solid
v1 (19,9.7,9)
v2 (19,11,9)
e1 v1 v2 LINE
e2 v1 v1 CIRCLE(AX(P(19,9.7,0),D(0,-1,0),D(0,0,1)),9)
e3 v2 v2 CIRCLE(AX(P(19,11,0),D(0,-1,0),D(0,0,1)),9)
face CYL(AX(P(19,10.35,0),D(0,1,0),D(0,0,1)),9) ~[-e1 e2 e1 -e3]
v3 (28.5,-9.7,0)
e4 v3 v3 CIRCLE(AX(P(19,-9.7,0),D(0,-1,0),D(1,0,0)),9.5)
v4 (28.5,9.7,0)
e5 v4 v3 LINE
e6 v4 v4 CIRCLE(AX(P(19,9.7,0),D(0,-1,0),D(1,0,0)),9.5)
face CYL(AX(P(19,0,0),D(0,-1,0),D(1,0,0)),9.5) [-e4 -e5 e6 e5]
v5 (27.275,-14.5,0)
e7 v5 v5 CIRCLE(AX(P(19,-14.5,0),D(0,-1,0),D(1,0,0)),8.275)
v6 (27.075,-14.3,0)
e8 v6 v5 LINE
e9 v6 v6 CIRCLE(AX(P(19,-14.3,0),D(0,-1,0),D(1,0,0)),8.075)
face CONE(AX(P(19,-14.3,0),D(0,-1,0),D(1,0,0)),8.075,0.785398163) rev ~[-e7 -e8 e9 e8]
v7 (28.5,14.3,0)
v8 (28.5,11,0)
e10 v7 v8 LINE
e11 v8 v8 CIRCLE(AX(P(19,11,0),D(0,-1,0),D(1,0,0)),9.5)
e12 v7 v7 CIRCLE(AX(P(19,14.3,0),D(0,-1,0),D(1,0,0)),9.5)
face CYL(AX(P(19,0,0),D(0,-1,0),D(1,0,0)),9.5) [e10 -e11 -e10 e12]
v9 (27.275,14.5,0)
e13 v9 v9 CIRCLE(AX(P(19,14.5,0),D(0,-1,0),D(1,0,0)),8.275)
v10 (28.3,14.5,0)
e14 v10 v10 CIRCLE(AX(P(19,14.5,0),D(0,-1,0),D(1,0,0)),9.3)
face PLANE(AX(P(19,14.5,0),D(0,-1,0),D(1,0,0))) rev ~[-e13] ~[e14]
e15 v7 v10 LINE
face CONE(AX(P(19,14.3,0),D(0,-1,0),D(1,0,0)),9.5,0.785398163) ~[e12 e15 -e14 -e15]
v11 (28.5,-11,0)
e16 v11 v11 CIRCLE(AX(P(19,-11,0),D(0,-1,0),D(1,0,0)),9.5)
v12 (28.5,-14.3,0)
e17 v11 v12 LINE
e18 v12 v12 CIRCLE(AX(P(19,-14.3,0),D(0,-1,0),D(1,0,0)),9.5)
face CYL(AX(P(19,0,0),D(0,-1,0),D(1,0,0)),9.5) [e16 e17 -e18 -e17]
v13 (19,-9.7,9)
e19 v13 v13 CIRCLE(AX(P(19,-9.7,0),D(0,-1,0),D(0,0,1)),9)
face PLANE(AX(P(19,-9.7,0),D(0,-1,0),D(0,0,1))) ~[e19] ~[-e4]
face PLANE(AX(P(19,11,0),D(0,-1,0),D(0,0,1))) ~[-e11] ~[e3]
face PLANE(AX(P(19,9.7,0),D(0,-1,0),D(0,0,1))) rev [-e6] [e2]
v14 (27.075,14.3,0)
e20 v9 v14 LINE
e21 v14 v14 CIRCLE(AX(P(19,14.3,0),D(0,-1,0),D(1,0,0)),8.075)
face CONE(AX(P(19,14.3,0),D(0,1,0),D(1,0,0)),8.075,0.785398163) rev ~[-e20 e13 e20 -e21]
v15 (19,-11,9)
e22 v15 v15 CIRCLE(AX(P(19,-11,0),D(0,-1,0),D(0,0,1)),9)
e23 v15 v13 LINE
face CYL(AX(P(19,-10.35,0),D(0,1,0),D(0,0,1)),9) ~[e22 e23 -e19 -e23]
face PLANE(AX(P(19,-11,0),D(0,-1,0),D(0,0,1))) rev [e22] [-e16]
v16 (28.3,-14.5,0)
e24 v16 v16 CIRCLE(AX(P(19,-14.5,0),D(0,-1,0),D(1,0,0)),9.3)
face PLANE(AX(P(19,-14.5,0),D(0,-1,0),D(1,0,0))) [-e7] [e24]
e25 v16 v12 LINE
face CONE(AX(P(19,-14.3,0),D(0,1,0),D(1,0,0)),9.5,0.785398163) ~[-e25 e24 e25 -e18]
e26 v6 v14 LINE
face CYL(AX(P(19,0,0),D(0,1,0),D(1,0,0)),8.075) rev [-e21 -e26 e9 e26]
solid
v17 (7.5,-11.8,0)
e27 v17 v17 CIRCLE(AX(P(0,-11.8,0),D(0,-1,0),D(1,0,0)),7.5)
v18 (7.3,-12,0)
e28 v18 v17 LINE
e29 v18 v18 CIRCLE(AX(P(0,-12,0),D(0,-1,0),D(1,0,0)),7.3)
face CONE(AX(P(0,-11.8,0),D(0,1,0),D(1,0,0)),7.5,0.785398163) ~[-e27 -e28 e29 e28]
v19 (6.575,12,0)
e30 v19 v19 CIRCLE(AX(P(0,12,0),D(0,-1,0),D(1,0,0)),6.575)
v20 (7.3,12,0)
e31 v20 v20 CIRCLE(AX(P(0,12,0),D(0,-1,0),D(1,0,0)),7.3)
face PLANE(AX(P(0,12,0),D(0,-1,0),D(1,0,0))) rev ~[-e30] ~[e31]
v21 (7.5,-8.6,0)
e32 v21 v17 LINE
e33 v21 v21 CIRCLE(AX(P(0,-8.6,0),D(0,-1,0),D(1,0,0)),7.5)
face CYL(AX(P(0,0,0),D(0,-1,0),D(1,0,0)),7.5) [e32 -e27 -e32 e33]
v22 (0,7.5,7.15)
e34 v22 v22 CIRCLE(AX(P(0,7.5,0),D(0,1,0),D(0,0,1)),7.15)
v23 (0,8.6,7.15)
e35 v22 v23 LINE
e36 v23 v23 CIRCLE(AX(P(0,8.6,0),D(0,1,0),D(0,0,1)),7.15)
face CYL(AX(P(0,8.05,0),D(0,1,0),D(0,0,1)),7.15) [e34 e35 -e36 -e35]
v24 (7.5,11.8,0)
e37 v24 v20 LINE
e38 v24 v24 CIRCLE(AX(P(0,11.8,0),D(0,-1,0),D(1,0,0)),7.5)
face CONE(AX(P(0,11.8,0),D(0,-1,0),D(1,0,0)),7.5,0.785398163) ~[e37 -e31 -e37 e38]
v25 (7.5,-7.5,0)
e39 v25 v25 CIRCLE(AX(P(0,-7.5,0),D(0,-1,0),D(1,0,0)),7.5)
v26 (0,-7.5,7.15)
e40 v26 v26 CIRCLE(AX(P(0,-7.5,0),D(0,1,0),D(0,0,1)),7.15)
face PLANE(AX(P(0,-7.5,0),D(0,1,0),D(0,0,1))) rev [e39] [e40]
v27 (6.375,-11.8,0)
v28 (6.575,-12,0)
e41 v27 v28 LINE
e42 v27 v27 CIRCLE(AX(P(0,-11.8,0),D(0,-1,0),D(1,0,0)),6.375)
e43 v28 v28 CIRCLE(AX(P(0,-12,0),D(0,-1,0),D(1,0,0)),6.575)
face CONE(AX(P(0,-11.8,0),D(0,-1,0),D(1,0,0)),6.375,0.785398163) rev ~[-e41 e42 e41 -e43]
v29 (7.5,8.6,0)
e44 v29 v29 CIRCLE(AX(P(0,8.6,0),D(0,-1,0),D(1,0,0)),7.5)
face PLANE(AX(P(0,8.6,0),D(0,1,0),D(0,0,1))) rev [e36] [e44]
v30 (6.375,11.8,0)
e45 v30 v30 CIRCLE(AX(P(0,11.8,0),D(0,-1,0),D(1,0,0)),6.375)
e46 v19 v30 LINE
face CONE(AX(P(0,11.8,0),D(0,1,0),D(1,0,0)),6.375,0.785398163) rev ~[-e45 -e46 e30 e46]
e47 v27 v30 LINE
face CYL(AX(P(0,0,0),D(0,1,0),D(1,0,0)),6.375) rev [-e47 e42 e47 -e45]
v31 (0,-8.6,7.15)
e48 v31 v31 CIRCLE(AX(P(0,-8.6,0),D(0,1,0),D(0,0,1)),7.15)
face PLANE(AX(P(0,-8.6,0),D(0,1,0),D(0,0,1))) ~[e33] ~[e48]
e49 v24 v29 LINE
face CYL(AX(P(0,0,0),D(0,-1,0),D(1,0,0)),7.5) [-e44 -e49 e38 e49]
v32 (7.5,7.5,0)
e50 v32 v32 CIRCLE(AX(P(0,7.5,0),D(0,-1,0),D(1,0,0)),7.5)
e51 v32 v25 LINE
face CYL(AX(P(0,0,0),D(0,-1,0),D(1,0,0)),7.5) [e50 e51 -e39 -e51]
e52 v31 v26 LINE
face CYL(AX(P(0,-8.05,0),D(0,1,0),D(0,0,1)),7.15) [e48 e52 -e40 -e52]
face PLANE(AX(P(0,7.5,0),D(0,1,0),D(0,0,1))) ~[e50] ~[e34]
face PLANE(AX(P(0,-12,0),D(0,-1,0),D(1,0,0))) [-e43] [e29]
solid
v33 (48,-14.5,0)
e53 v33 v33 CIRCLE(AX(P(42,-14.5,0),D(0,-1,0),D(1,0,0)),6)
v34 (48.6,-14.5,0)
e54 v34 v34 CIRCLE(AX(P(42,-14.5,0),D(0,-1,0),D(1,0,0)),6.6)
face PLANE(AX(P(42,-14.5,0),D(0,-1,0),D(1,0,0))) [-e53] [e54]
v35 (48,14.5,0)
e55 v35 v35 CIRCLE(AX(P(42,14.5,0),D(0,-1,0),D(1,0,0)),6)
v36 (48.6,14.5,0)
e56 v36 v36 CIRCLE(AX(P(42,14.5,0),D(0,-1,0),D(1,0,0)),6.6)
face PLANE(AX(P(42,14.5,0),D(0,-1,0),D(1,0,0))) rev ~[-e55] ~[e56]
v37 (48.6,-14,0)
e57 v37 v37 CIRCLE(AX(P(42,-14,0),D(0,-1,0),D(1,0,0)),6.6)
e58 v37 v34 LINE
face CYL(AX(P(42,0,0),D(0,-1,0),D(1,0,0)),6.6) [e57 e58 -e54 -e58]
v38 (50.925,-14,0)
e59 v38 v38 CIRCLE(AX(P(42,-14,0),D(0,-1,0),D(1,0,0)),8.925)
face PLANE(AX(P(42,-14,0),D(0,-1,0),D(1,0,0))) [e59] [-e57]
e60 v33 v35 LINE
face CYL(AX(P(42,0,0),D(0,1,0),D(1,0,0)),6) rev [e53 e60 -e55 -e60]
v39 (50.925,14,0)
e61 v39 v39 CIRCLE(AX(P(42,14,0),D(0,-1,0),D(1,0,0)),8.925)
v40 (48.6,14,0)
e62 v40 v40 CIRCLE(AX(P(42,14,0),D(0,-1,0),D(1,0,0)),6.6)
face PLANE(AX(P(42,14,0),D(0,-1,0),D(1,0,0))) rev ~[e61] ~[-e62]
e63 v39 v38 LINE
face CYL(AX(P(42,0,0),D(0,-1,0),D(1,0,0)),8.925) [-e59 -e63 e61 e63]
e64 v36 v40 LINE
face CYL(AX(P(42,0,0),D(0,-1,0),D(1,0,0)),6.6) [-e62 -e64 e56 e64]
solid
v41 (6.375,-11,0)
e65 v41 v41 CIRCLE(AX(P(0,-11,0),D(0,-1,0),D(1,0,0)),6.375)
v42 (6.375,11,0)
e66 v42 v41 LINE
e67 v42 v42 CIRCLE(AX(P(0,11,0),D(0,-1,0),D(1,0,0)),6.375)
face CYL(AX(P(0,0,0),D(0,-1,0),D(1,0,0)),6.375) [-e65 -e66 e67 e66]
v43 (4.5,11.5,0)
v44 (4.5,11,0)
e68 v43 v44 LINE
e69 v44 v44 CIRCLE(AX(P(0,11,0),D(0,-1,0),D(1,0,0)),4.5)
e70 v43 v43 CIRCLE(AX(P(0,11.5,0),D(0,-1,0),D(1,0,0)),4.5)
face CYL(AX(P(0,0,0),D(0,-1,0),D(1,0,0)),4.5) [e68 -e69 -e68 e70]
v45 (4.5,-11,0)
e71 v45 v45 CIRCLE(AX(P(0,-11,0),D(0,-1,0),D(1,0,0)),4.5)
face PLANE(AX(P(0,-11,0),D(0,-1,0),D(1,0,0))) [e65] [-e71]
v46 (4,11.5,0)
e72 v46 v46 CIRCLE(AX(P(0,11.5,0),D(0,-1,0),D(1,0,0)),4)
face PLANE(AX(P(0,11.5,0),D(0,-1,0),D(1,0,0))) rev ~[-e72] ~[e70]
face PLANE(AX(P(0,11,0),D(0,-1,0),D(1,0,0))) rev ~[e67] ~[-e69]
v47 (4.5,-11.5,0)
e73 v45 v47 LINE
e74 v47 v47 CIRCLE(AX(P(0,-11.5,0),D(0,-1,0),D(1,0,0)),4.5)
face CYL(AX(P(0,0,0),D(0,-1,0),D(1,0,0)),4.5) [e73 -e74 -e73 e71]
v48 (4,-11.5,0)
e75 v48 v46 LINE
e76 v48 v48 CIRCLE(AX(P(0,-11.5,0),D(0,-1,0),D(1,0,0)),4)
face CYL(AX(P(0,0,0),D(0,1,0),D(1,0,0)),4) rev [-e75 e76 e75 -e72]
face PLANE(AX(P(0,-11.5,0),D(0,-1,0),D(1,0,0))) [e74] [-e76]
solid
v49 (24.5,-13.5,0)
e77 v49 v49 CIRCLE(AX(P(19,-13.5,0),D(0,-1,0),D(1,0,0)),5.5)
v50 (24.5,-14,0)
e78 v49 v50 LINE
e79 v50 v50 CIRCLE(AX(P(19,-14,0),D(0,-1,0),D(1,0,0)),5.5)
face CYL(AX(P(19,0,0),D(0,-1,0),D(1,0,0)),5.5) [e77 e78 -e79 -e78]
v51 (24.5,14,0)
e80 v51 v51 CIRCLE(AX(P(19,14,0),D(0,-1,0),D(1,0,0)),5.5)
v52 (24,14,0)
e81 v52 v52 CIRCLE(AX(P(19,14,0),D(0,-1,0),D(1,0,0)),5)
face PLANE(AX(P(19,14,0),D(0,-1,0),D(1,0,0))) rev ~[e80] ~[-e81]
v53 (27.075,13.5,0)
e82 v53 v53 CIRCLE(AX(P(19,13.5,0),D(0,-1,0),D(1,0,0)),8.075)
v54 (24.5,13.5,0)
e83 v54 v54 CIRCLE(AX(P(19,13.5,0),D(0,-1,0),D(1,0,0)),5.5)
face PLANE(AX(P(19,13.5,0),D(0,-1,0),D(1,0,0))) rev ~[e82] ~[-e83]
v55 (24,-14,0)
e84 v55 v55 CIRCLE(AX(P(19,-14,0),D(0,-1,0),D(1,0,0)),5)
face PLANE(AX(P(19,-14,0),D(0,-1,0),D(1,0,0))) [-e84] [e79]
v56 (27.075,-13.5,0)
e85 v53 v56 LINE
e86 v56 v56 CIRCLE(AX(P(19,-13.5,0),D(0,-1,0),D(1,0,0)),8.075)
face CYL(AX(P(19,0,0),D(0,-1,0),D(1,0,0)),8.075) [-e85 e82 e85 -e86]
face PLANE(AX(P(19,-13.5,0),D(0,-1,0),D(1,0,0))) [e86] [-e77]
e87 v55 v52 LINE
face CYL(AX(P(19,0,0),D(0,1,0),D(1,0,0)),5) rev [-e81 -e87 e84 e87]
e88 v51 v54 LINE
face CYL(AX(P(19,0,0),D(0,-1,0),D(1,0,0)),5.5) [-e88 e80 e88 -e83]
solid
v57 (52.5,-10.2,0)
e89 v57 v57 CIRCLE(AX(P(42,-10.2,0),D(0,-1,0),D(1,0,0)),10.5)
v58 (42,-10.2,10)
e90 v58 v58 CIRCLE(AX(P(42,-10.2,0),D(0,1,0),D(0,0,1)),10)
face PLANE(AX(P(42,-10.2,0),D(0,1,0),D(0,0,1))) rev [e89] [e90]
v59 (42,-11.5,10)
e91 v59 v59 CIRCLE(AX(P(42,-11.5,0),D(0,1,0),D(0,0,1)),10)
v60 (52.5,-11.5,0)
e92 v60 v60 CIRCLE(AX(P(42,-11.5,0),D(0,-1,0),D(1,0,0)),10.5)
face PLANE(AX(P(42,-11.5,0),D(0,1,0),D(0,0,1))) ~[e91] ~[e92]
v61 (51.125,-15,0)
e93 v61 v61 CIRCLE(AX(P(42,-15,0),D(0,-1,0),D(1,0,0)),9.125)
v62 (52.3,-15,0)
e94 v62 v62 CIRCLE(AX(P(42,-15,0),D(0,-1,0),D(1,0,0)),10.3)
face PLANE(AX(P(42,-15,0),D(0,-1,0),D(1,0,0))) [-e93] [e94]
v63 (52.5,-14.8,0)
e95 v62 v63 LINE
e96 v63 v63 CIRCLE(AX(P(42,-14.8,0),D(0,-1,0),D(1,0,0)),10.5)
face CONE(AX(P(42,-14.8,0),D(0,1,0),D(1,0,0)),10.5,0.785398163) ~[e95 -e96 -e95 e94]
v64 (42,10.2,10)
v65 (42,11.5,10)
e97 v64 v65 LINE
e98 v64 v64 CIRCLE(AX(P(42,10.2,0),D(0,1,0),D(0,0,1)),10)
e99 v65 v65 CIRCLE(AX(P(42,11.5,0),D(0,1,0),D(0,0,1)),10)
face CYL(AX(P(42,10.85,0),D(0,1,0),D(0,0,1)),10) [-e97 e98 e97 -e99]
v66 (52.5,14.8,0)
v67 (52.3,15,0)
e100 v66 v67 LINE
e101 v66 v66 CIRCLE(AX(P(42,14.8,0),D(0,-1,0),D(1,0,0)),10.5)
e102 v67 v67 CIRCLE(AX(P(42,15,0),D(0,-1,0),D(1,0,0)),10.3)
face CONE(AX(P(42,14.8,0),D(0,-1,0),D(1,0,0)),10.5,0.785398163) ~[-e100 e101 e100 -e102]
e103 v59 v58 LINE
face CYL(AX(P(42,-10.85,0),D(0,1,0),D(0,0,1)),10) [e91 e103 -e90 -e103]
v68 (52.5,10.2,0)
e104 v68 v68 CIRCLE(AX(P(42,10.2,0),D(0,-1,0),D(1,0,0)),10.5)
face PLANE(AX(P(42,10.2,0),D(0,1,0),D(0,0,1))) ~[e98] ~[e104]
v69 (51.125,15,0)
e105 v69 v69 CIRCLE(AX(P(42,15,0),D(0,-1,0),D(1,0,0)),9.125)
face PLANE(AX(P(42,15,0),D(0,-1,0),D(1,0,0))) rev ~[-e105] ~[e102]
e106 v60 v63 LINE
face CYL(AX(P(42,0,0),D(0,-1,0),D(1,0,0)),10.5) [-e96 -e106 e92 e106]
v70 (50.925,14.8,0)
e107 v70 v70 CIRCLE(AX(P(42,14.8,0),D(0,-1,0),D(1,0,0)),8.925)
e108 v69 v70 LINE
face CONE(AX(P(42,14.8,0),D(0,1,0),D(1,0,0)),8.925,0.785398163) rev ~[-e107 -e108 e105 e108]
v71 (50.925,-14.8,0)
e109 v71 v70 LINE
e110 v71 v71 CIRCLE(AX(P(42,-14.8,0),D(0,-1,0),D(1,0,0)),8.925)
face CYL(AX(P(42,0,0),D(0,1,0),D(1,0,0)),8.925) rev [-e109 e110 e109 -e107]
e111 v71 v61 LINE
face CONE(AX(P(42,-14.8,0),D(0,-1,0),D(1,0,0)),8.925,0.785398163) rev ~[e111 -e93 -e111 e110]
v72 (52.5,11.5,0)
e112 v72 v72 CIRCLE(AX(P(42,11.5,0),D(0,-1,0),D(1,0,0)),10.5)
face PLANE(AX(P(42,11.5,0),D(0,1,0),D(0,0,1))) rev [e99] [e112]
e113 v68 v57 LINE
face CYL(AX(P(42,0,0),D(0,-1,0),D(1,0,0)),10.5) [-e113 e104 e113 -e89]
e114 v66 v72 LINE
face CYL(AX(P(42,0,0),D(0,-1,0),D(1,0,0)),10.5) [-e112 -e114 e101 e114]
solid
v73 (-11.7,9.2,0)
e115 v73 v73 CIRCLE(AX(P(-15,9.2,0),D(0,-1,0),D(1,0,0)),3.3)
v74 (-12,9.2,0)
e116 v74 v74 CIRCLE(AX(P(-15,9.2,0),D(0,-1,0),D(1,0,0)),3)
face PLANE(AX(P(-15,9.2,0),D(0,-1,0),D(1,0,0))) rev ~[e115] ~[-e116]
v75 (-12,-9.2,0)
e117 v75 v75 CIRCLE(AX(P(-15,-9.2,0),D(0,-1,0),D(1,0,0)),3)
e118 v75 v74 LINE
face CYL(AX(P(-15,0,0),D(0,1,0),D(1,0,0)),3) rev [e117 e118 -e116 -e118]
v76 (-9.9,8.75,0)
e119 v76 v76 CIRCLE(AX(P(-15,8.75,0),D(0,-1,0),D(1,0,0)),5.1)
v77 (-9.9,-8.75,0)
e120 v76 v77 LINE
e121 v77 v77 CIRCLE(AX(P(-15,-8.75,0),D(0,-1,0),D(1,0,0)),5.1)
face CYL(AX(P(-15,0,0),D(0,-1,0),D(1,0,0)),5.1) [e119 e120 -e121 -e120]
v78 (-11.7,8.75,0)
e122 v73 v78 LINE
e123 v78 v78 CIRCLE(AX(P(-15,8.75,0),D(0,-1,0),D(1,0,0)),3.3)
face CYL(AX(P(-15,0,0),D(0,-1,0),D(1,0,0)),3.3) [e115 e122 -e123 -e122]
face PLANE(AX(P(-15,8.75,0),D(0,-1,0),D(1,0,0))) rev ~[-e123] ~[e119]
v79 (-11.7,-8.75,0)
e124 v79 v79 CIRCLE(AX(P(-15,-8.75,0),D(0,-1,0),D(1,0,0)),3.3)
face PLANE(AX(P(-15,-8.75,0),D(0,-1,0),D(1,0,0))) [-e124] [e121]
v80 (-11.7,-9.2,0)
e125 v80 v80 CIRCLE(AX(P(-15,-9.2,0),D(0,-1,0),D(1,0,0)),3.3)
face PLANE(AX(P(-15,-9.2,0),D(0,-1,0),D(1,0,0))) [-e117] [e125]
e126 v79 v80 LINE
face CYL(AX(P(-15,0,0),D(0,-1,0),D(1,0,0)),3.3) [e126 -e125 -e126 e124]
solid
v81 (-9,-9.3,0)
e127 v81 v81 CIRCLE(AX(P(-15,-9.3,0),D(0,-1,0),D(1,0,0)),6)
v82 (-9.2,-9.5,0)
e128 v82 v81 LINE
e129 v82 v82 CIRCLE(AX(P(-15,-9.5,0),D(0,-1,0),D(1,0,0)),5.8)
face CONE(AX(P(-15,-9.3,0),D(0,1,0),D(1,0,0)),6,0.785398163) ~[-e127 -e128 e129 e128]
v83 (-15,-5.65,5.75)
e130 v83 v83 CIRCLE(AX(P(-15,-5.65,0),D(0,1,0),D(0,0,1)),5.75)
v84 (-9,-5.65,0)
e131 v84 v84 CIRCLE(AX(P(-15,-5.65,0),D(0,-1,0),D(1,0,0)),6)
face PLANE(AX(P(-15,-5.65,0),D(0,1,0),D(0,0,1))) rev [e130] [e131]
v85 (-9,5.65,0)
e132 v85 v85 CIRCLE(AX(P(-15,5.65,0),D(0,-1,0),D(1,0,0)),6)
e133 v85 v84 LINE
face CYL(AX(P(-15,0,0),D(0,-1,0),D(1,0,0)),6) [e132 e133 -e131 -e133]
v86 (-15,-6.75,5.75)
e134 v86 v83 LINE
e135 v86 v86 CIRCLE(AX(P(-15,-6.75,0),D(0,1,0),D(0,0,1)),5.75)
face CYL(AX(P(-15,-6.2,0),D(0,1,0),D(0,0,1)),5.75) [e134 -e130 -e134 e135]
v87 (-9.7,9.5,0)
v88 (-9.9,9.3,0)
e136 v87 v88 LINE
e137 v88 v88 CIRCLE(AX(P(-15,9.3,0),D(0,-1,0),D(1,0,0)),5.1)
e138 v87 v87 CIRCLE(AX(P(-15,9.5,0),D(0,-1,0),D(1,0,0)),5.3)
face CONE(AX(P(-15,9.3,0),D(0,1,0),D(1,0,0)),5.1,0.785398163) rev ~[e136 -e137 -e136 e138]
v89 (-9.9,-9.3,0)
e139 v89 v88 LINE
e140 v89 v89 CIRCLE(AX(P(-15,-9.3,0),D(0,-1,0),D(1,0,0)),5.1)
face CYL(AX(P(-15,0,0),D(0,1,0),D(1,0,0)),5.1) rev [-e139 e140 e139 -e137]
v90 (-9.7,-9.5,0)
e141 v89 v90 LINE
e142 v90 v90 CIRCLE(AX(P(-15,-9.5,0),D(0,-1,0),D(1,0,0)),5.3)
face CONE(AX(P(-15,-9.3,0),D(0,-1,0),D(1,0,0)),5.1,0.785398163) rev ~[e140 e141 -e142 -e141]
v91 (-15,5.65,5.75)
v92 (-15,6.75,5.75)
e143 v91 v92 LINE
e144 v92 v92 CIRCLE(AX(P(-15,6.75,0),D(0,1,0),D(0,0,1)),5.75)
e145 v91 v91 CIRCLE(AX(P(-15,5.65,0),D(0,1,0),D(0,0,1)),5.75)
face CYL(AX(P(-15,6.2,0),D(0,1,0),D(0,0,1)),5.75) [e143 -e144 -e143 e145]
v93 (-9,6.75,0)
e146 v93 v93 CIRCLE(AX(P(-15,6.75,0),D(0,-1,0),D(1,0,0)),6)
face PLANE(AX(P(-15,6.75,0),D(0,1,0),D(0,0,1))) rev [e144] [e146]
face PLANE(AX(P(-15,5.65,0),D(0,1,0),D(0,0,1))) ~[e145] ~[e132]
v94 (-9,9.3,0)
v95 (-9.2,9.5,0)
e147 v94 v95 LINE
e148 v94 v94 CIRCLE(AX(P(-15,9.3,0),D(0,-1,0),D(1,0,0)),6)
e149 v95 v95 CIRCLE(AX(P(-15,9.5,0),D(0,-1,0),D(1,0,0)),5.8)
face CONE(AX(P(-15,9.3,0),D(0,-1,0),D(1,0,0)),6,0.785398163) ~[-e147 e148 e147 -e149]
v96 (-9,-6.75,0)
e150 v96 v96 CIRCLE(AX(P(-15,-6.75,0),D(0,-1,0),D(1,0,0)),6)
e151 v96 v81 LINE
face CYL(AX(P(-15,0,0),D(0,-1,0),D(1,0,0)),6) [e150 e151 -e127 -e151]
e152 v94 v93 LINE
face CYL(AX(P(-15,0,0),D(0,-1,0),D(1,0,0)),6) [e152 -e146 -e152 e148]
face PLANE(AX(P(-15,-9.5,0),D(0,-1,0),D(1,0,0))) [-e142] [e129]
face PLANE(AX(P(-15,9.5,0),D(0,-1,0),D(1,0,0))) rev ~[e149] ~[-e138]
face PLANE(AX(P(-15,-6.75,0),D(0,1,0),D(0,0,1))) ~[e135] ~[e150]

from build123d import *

# Parameters (mm, degrees)
F0_R      = 6
F0_R_2    = 5.1
F1_DEPTH  = 9.5
F0_R_3    = 3.3
F2_DEPTH  = 8.75
F0_R_4    = 3
F3_DEPTH  = 9.2
F5_W      = 1.1
F5_H      = 1
F7_SIZE   = 0.2
F0_R_5    = 7.5
F0_R_6    = 6.375
F8_DEPTH  = 12
F0_R_7    = 4.5
F9_DEPTH  = 11
F0_R_8    = 4
F10_DEPTH = 11.5
F11_W     = 1.1
F11_H     = 0.85
F13_SIZE  = 0.2
F0_R_9    = 9.5
F0_R_10   = 8.075
F14_DEPTH = 14.5
F0_R_11   = 5.5
F15_DEPTH = 13.5
F0_R_12   = 5
F16_DEPTH = 14
F18_W     = 1.3
F18_H     = 1
F20_SIZE  = 0.2
F0_R_13   = 10.5
F0_R_14   = 8.925
F21_DEPTH = 15
F0_R_15   = 6.6
F22_DEPTH = 14
F23_DEPTH = 14.5
F25_W     = 1.3
F25_H     = 1
F27_SIZE  = 0.2


with BuildPart() as f1:
    # F0 (on Front) → F1 (new body, symmetric)
    with BuildSketch(Plane.XZ):
        with Locations((-15, 0)):
            Circle(F0_R)
        with Locations((-15, 0)):
            Circle(F0_R_2, mode=Mode.SUBTRACT)
    extrude(amount=F1_DEPTH, both=True)

    # F5 (on plane+point) → F6 (revolve, cut)
    with BuildSketch(Plane.YZ.offset(-15)):
        with Locations((6.2, 6.25)):
            Rectangle(F5_W, F5_H)
        with Locations((-6.2, 6.25)):
            Rectangle(F5_W, F5_H)
    revolve(axis=Axis((-15, 0, 0), (0, 1, 0)), mode=Mode.SUBTRACT)

    # F7
    f7_edges = [f1.edges().sort_by_distance(p)[0] for p in [
        (-21, -9.5, 0),
        (-20.1, -9.5, 0),
        (-21, 9.5, 0),
        (-20.1, 9.5, 0),
    ]]
    chamfer(f7_edges, length=F7_SIZE)


with BuildPart() as f2:
    # F0 (on Front) → F2 (new body, symmetric)
    with BuildSketch(Plane.XZ):
        with Locations((-15, 0)):
            Circle(F0_R_2)
        with Locations((-15, 0)):
            Circle(F0_R_3, mode=Mode.SUBTRACT)
    extrude(amount=F2_DEPTH, both=True)

    # F0 (on Front) → F3 (join, symmetric)
    with BuildSketch(Plane.XZ):
        with Locations((-15, 0)):
            Circle(F0_R_3)
        with Locations((-15, 0)):
            Circle(F0_R_4, mode=Mode.SUBTRACT)
    extrude(amount=F3_DEPTH, both=True)


with BuildPart() as f8:
    # F0 (on Front) → F8 (new body, symmetric)
    with BuildSketch(Plane.XZ):
        Circle(F0_R_5)
        Circle(F0_R_6, mode=Mode.SUBTRACT)
    extrude(amount=F8_DEPTH, both=True)

    # F11 (on Right) → F12 (revolve, cut)
    with BuildSketch(Plane.YZ):
        with Locations((-8.05, 7.575)):
            Rectangle(F11_W, F11_H)
        with Locations((8.05, 7.575)):
            Rectangle(F11_W, F11_H)
    revolve(axis=Axis((0, 0, 0), (0, 1, 0)), mode=Mode.SUBTRACT)

    # F13
    f13_edges = [f8.edges().sort_by_distance(p)[0] for p in [
        (-7.5, -12, 0),
        (-6.375, -12, 0),
        (-7.5, 12, 0),
        (-6.375, 12, 0),
    ]]
    chamfer(f13_edges, length=F13_SIZE)


with BuildPart() as f9:
    # F0 (on Front) → F9 (new body, symmetric)
    with BuildSketch(Plane.XZ):
        Circle(F0_R_6)
        Circle(F0_R_7, mode=Mode.SUBTRACT)
    extrude(amount=F9_DEPTH, both=True)

    # F0 (on Front) → F10 (join, symmetric)
    with BuildSketch(Plane.XZ):
        Circle(F0_R_7)
        Circle(F0_R_8, mode=Mode.SUBTRACT)
    extrude(amount=F10_DEPTH, both=True)


with BuildPart() as f14:
    # F0 (on Front) → F14 (new body, symmetric)
    with BuildSketch(Plane.XZ):
        with Locations((19, 0)):
            Circle(F0_R_9)
        with Locations((19, 0)):
            Circle(F0_R_10, mode=Mode.SUBTRACT)
    extrude(amount=F14_DEPTH, both=True)

    # F18 (on plane+point) → F19 (revolve, cut)
    with BuildSketch(Plane.YZ.offset(19)):
        with Locations((10.35, 9.5)):
            Rectangle(F18_W, F18_H)
        with Locations((-10.35, 9.5)):
            Rectangle(F18_W, F18_H)
    revolve(axis=Axis((19, -2.1407643095, 0), (0, -1, 0)), mode=Mode.SUBTRACT)

    # F20
    f20_edges = [f14.edges().sort_by_distance(p)[0] for p in [
        (9.5, -14.5, 0),
        (10.925, -14.5, 0),
        (9.5, 14.5, 0),
        (10.925, 14.5, 0),
    ]]
    chamfer(f20_edges, length=F20_SIZE)


with BuildPart() as f15:
    # F0 (on Front) → F15 (new body, symmetric)
    with BuildSketch(Plane.XZ):
        with Locations((19, 0)):
            Circle(F0_R_10)
        with Locations((19, 0)):
            Circle(F0_R_11, mode=Mode.SUBTRACT)
    extrude(amount=F15_DEPTH, both=True)

    # F0 (on Front) → F16 (join, symmetric)
    with BuildSketch(Plane.XZ):
        with Locations((19, 0)):
            Circle(F0_R_11)
        with Locations((19, 0)):
            Circle(F0_R_12, mode=Mode.SUBTRACT)
    extrude(amount=F16_DEPTH, both=True)


with BuildPart() as f21:
    # F0 (on Front) → F21 (new body, symmetric)
    with BuildSketch(Plane.XZ):
        with Locations((42, 0)):
            Circle(F0_R_13)
        with Locations((42, 0)):
            Circle(F0_R_14, mode=Mode.SUBTRACT)
    extrude(amount=F21_DEPTH, both=True)

    # F25 (on plane+point) → F26 (revolve, cut)
    with BuildSketch(Plane.YZ.offset(42)):
        with Locations((-10.85, 10.5)):
            Rectangle(F25_W, F25_H)
        with Locations((10.85, 10.5)):
            Rectangle(F25_W, F25_H)
    revolve(axis=Axis((42, 0.3836191615, 0), (0, 1, 0)), mode=Mode.SUBTRACT)

    # F27
    f27_edges = [f21.edges().sort_by_distance(p)[0] for p in [
        (31.5, 15, 0),
        (33.075, 15, 0),
        (31.5, -15, 0),
        (33.075, -15, 0),
    ]]
    chamfer(f27_edges, length=F27_SIZE)


with BuildPart() as f22:
    # F0 (on Front) → F22 (new body, symmetric)
    with BuildSketch(Plane.XZ):
        with Locations((42, 0)):
            Circle(F0_R_14)
        with Locations((42, 0)):
            Circle(F0_R_15, mode=Mode.SUBTRACT)
    extrude(amount=F22_DEPTH, both=True)

    # F0 (on Front) → F23 (join, symmetric)
    with BuildSketch(Plane.XZ):
        with Locations((42, 0)):
            Circle(F0_R_15)
        with Locations((42, 0)):
            Circle(F0_R, mode=Mode.SUBTRACT)
    extrude(amount=F23_DEPTH, both=True)


solid = Compound([f1.part, f2.part, f8.part, f9.part, f14.part, f15.part, f21.part, f22.part])
